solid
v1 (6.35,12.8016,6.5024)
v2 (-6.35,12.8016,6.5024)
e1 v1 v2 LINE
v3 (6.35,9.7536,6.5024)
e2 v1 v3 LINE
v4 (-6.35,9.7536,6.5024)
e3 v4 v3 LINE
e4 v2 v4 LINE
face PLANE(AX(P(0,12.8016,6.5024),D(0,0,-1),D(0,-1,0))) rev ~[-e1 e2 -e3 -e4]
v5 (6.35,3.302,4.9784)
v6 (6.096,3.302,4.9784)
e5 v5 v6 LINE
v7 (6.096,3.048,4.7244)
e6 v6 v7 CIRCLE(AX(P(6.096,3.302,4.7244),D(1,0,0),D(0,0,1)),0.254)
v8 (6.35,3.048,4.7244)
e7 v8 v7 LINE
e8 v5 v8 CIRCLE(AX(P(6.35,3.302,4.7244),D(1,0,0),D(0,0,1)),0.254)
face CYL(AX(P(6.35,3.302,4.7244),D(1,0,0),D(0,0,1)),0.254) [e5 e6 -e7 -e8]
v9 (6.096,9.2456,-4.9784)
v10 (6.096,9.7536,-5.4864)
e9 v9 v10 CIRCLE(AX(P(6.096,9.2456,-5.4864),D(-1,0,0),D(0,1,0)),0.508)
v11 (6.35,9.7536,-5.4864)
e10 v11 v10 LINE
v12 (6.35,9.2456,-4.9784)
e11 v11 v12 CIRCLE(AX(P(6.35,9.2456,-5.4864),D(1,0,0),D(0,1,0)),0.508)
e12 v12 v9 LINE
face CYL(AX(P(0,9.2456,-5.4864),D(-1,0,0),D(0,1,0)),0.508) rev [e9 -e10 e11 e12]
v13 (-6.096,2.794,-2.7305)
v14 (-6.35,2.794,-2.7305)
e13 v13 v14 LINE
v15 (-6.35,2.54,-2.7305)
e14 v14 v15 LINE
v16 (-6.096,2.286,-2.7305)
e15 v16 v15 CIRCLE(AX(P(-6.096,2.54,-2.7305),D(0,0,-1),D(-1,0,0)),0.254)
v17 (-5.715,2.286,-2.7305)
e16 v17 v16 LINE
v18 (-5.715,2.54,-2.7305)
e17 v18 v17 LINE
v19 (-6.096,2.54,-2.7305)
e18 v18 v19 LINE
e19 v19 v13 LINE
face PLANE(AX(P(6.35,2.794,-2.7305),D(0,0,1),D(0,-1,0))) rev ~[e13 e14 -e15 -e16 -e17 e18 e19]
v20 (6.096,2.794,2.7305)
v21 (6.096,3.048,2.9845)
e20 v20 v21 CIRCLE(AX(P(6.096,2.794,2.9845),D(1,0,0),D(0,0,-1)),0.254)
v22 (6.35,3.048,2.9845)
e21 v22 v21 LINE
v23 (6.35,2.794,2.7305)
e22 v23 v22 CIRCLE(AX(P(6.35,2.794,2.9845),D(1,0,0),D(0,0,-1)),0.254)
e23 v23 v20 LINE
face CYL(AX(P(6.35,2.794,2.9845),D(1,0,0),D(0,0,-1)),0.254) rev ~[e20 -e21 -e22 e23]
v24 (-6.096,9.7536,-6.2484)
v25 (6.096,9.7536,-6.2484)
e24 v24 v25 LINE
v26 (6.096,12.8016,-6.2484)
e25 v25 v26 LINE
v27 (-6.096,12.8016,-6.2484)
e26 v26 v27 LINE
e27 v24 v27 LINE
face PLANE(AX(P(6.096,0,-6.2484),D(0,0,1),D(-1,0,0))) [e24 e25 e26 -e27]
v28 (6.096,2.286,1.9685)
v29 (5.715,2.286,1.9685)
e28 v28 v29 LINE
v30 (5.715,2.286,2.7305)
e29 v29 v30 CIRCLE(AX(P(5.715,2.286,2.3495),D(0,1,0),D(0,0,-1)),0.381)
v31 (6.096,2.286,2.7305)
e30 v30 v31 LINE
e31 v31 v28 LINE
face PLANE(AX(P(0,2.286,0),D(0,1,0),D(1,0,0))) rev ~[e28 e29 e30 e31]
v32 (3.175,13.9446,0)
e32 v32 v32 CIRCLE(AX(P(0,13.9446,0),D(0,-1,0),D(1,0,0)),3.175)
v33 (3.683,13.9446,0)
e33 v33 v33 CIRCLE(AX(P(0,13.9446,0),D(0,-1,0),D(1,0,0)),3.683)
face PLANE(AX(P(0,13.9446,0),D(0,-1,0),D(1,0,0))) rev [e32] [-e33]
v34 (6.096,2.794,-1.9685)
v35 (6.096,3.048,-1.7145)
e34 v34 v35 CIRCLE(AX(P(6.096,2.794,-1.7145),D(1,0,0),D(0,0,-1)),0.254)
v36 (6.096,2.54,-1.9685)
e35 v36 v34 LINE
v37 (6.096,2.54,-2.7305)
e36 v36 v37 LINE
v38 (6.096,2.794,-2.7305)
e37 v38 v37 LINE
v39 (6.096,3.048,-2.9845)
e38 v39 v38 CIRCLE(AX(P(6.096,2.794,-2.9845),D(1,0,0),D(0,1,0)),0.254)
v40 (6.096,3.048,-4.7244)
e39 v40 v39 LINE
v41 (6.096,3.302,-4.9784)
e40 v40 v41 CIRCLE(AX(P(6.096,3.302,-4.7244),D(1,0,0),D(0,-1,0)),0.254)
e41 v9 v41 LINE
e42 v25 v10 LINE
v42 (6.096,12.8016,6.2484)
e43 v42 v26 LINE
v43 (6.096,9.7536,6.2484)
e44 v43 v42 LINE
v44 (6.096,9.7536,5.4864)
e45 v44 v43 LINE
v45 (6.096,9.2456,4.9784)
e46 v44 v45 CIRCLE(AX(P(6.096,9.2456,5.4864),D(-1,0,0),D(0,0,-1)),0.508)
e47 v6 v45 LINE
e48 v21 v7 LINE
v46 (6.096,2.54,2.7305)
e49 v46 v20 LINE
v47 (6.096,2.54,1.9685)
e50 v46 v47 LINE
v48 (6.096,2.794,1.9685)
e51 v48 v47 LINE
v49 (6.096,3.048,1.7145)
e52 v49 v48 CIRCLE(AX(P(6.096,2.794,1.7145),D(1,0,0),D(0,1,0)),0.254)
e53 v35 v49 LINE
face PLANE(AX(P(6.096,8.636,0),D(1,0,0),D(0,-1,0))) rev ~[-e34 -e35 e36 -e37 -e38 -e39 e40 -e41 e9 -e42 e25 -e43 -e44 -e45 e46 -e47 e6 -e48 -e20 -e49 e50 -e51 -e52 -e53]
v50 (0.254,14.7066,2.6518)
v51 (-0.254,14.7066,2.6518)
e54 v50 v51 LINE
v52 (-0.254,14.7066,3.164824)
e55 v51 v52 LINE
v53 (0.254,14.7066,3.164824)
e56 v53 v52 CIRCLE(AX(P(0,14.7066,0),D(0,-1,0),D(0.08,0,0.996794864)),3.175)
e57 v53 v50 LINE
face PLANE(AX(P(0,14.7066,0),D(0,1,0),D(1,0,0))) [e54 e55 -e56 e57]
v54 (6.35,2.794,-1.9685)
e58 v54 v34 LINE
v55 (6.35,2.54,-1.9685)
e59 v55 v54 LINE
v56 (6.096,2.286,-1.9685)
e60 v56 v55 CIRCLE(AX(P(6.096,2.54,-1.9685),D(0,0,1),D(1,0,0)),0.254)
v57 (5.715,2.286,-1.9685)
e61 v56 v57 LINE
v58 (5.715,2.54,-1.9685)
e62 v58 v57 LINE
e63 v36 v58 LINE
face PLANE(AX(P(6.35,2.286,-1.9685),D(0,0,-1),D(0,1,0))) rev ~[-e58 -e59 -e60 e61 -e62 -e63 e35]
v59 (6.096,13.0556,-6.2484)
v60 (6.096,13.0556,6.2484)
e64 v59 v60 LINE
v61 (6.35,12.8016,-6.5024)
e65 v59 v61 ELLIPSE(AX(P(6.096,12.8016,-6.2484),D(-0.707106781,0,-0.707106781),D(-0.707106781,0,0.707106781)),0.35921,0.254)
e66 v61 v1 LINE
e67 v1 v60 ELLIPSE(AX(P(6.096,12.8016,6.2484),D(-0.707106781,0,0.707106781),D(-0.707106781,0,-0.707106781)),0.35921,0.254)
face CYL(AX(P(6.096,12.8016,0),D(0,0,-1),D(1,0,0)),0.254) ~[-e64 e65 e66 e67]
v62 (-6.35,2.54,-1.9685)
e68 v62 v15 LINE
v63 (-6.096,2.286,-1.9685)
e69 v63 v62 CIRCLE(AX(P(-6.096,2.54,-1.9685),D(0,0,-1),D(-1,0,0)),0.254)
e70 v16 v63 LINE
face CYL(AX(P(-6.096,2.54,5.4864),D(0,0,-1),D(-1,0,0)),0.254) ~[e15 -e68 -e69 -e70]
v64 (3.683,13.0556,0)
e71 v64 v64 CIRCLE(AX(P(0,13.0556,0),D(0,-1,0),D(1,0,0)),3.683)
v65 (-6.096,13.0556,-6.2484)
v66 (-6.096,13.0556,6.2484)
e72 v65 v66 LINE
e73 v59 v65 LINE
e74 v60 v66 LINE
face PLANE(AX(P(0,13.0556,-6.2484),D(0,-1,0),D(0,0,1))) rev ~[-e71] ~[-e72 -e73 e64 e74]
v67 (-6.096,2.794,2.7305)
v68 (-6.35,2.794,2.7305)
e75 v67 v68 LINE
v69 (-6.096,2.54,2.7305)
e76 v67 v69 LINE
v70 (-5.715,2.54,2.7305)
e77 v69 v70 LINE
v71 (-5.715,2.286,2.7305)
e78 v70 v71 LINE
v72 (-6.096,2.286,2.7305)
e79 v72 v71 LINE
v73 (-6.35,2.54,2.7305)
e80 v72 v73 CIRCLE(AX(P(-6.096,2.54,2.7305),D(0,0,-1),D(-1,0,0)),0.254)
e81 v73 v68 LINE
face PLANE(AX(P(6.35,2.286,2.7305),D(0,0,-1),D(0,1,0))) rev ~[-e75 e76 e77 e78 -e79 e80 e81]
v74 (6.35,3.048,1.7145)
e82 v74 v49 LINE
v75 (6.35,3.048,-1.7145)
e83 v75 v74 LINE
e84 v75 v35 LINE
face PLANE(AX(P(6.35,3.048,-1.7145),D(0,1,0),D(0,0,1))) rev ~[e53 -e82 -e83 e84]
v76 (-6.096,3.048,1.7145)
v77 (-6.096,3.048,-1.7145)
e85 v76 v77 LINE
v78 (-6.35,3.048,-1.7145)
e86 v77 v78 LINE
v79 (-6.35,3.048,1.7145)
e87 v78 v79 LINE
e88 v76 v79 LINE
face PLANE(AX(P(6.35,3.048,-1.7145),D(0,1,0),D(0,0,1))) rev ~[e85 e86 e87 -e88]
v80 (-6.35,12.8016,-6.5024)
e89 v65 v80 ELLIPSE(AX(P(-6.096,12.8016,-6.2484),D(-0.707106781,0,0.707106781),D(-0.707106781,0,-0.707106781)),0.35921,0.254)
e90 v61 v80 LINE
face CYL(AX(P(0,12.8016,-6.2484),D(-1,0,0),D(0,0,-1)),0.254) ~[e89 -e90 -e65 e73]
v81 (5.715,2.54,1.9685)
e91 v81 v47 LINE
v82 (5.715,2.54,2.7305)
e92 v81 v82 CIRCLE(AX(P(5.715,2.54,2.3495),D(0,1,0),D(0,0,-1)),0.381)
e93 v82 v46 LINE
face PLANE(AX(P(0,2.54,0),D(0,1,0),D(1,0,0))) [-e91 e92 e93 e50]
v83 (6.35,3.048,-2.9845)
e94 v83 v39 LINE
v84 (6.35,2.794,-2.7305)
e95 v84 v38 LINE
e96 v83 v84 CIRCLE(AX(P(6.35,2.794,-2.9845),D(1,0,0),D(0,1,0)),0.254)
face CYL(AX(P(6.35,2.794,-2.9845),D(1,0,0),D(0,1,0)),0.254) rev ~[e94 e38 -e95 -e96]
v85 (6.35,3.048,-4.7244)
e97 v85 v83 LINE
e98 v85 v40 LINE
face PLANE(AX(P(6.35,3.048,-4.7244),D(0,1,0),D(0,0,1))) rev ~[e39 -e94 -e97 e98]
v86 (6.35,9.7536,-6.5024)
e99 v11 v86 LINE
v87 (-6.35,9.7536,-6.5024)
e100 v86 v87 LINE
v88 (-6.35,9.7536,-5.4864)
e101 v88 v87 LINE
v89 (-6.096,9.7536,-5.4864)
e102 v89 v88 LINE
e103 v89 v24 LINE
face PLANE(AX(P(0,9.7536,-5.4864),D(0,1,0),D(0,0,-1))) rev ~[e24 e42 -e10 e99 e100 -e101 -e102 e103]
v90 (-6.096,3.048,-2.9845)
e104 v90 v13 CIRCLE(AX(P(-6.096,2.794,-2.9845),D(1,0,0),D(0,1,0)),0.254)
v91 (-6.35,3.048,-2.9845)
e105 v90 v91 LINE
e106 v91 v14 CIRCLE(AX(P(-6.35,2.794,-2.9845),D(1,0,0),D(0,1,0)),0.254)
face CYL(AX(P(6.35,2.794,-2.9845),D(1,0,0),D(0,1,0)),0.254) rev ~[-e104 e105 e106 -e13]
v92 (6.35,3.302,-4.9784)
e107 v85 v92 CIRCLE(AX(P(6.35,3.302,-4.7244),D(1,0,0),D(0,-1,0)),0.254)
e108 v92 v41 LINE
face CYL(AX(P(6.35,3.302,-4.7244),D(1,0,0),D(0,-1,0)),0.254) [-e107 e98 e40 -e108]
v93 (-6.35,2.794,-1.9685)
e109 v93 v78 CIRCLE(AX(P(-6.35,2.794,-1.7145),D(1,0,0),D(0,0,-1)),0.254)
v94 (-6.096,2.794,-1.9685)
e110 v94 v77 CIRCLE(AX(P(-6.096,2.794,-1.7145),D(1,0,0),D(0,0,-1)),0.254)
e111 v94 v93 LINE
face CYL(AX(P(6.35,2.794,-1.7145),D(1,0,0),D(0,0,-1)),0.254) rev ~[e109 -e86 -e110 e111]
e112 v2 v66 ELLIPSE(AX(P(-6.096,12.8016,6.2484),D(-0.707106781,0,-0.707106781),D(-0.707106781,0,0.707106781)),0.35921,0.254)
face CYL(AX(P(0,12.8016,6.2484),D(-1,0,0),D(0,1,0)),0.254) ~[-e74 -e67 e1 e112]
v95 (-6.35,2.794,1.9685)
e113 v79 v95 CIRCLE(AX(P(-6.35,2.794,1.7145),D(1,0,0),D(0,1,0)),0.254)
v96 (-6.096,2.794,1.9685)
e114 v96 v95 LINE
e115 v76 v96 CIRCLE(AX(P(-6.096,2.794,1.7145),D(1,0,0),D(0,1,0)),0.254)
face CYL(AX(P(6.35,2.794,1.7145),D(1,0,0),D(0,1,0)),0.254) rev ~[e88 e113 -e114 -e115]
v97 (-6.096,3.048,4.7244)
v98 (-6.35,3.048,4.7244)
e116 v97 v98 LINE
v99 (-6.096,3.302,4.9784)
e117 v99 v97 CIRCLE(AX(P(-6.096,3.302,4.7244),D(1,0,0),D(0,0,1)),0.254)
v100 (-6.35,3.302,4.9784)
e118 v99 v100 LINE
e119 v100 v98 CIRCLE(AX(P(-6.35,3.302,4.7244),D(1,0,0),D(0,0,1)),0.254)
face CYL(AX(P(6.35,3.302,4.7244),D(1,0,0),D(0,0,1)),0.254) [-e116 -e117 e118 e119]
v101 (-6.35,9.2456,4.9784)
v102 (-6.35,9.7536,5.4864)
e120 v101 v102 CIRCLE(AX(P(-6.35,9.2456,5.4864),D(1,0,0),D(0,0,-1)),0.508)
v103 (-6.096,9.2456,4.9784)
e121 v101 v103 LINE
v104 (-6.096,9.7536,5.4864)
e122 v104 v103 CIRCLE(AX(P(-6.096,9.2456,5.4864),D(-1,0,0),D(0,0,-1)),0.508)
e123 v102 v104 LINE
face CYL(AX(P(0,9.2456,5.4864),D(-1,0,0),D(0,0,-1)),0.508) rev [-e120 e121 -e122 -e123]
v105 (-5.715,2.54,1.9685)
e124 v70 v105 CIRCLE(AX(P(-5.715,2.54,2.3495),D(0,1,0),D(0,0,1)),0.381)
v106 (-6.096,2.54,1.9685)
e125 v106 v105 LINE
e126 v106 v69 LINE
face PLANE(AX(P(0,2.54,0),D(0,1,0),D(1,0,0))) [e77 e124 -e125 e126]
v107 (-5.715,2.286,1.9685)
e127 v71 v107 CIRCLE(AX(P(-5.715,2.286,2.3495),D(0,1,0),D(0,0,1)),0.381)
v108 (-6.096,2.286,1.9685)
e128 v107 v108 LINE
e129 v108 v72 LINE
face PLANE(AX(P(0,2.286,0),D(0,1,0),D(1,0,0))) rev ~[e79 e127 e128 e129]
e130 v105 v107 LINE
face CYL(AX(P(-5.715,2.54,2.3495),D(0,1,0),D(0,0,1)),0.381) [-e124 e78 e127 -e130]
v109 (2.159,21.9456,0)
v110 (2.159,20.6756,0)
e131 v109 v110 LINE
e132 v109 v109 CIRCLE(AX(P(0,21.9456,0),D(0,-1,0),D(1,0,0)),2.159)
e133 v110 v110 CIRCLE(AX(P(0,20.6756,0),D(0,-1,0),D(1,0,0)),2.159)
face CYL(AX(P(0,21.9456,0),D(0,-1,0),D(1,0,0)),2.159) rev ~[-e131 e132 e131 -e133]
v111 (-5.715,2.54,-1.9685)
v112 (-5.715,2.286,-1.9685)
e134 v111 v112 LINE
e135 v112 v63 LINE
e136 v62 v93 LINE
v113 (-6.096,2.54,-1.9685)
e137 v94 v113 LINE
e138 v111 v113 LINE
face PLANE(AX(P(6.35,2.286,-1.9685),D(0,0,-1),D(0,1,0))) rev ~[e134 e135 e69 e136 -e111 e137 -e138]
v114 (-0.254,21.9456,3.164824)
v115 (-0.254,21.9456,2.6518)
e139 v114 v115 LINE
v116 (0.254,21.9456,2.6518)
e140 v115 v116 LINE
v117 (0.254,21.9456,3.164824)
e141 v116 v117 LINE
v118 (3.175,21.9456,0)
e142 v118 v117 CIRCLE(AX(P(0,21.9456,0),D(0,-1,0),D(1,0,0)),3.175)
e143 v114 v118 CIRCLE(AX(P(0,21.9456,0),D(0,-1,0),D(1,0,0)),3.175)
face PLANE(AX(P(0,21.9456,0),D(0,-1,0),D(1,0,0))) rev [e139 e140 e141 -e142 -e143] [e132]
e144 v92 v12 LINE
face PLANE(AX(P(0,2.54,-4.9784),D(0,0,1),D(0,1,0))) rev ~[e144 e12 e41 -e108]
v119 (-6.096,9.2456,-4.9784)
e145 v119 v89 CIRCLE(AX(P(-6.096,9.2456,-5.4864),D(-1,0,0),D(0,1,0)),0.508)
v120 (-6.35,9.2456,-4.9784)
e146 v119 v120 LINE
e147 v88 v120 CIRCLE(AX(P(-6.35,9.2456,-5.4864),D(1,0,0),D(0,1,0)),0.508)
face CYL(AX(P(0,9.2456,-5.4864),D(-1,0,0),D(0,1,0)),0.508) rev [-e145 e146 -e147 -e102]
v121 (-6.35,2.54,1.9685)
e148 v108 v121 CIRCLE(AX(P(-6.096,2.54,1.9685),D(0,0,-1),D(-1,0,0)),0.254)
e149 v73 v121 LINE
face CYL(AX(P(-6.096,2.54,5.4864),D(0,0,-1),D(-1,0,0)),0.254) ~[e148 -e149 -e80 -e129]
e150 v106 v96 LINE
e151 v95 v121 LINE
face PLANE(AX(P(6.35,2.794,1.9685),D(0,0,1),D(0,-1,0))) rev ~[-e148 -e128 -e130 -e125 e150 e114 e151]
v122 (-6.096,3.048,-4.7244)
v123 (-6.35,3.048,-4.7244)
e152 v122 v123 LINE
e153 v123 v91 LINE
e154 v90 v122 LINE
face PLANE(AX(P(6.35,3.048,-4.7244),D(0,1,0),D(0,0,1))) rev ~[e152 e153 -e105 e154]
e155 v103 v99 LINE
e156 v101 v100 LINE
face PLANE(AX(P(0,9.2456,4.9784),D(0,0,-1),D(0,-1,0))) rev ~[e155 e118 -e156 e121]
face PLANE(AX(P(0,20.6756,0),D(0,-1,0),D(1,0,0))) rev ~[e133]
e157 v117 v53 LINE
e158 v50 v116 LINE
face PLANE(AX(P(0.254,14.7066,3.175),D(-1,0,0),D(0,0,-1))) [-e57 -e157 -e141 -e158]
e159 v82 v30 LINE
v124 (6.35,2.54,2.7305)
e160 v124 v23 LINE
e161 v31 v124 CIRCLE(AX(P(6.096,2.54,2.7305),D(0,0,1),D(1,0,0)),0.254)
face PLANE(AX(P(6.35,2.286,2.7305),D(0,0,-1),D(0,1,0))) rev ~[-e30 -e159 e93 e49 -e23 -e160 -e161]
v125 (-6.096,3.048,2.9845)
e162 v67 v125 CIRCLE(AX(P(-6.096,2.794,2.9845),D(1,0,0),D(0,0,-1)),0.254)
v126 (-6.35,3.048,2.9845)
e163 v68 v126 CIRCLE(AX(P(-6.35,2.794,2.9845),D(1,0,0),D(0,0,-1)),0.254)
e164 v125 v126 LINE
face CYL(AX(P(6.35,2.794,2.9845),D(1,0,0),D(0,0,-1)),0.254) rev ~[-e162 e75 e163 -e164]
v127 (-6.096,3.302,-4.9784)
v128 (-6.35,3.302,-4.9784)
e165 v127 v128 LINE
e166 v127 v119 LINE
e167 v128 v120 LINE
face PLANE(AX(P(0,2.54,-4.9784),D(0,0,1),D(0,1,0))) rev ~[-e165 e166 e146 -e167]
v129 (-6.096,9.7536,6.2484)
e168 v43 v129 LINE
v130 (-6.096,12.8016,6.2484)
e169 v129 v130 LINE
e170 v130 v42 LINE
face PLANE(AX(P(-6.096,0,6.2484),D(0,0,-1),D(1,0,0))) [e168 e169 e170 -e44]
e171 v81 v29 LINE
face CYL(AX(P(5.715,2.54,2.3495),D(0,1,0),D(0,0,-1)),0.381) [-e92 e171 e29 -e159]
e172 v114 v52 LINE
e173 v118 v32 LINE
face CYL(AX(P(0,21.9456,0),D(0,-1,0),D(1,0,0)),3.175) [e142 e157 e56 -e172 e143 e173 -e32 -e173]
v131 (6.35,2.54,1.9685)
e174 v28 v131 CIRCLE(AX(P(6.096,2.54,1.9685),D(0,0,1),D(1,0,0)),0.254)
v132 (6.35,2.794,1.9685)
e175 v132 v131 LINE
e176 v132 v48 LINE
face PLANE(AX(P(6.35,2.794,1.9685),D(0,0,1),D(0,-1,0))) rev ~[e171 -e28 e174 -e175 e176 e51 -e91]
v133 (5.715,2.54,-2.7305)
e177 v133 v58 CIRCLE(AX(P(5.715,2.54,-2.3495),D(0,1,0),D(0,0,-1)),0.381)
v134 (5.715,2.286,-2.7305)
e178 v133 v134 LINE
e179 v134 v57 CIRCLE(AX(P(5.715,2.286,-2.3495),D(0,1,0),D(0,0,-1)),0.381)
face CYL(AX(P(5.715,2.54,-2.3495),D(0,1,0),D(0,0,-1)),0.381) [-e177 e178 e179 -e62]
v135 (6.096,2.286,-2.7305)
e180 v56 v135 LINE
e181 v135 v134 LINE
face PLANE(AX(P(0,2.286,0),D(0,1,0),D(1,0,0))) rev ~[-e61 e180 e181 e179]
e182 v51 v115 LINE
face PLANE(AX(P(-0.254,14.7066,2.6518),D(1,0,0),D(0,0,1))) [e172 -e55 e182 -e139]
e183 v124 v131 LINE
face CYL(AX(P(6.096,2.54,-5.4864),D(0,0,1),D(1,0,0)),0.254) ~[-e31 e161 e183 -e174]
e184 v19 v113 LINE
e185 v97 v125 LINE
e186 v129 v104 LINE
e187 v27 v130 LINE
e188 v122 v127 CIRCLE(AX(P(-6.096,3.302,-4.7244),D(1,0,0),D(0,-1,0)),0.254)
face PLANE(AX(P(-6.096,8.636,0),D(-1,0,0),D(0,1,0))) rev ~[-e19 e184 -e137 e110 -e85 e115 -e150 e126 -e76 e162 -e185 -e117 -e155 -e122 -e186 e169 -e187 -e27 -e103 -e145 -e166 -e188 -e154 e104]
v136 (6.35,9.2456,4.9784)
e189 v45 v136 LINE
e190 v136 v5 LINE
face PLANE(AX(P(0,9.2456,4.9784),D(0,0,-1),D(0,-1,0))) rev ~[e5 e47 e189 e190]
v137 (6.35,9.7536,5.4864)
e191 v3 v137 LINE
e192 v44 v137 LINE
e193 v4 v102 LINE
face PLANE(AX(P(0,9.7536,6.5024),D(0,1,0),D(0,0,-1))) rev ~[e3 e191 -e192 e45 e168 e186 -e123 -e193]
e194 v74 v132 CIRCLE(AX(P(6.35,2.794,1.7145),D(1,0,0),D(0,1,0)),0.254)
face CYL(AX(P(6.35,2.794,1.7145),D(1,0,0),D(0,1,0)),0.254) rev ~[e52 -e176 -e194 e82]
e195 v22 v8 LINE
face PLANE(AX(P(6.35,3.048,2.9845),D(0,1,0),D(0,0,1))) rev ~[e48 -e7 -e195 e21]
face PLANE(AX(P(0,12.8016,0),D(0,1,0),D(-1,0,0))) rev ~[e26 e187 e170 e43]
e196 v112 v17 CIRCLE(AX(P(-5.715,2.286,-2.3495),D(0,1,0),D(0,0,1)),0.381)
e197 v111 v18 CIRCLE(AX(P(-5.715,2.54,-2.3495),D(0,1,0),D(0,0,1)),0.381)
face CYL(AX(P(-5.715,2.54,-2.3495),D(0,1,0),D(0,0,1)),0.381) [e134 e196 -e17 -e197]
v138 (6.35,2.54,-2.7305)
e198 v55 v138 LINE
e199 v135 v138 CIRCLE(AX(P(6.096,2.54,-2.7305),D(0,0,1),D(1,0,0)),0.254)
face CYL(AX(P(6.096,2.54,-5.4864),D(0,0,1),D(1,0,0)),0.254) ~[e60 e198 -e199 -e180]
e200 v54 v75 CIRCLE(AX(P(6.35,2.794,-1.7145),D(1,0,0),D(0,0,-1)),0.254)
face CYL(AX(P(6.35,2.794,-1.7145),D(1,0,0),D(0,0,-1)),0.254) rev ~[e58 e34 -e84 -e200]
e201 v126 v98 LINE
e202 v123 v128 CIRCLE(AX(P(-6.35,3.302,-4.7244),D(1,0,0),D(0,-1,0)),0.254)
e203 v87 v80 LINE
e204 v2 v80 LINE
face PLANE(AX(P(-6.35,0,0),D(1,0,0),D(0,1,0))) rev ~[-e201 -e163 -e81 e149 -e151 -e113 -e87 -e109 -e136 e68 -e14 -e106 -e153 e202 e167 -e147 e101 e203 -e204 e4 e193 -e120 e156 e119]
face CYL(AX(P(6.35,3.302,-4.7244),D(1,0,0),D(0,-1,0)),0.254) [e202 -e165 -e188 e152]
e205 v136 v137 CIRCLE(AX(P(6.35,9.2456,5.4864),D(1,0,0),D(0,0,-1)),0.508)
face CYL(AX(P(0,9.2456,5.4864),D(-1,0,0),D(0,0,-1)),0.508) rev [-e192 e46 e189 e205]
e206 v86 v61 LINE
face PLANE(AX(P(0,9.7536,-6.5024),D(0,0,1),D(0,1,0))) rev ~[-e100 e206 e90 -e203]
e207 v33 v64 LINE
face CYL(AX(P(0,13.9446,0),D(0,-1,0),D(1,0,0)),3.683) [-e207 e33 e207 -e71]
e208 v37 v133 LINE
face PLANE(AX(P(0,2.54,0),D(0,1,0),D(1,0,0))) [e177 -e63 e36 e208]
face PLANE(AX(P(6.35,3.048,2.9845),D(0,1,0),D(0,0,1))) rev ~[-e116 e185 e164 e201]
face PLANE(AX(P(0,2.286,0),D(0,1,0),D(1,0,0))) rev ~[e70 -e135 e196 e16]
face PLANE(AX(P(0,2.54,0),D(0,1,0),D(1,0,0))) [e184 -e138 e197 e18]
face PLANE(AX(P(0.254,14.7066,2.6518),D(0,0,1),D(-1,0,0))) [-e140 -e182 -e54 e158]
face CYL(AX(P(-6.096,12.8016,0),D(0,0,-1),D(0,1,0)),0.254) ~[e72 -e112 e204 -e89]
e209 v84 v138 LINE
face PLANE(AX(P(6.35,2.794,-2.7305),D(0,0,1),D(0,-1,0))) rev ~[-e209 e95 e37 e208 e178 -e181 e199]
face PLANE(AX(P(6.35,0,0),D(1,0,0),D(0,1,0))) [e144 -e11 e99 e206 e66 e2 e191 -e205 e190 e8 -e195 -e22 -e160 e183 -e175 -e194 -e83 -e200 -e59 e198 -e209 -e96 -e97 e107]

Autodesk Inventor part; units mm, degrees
sketch "Sketch_1" plane through (0, 0, 0) normal (1, 0, 0) x (0, 1, 0)
  line L0 (9.7536, 6.5024) -> (9.7536, 5.4864)
  arc A0 (9.2456, 4.9784) -> (9.7536, 5.4864) centre (9.2456, 5.4864) ccw
  line L1 (9.2456, 4.9784) -> (2.54, 4.9784)
  line L2 (2.54, 4.9784) -> (2.54, -4.9784)
  line L3 (2.54, -4.9784) -> (9.2456, -4.9784)
  arc A1 (9.7536, -5.4864) -> (9.2456, -4.9784) centre (9.2456, -5.4864) ccw
  line L4 (9.7536, -5.4864) -> (9.7536, -6.5024)
  line L5 (9.7536, -6.5024) -> (12.8016, -6.5024)
  arc A2 (12.8016, -6.5024) -> (13.0556, -6.2484) centre (12.8016, -6.2484) ccw
  line L6 (13.0556, -6.2484) -> (13.0556, 6.2484)
  arc A3 (13.0556, 6.2484) -> (12.8016, 6.5024) centre (12.8016, 6.2484) ccw
  line L7 (12.8016, 6.5024) -> (9.7536, 6.5024)
extrude "Extrusion1" add sketch "Sketch_1" along normal mid plane 12.7
sketch "Sketch_2" plane through (0, 0, 0) normal (0, 1, 0) x (-1, 0, 0)
  line L0 (6.096, 6.2484) -> (-6.096, 6.2484)
  line L1 (-6.096, 6.2484) -> (-6.096, -6.2484)
  line L2 (-6.096, -6.2484) -> (6.096, -6.2484)
  line L3 (6.096, -6.2484) -> (6.096, 6.2484)
extrude "Extrusion2" cut sketch "Sketch_2" along normal blind 12.8016
sketch "Sketch_3" plane through (0, 0, 0) normal (0, 0, 1) x (1, 0, 0)
  arc A0 (-6.096, 13.0556) -> (-6.35, 12.8016) centre (-6.096, 12.8016) ccw
  line L0 (-6.096, 13.0556) -> (6.096, 13.0556)
  arc A1 (6.35, 12.8016) -> (6.096, 13.0556) centre (6.096, 12.8016) ccw
  line L1 (6.35, 12.8016) -> (6.35, 15.24)
  line L2 (6.35, 15.24) -> (-6.35, 15.24)
  line L3 (-6.35, 15.24) -> (-6.35, 12.8016)
extrude "Extrusion3" cut sketch "Sketch_3" along normal mid plane 25.6032
sketch "Sketch_4" plane through (0, 2.54, 0) normal (0, 1, 0) x (1, 0, 0)
  line L0 (-6.096, 5.4864) -> (-6.096, -5.4864)
  line L1 (-6.096, -5.4864) -> (-6.35, -5.4864)
  line L2 (-6.35, -5.4864) -> (-6.35, 5.4864)
  line L3 (-6.35, 5.4864) -> (-6.096, 5.4864)
  line L4 (-6.096, 5.4864) -> (-6.096, -5.4864)
revolve "Revolution1" add sketch "Sketch_4" angle 90 about axis through (-6.096, 2.54, -5.4864) along (0, 0, 1)
sketch "Sketch_5" plane through (0, 2.54, 0) normal (0, 1, 0) x (1, 0, 0)
  line L0 (6.096, -5.4864) -> (6.096, 5.4864)
  line L1 (6.096, 5.4864) -> (6.35, 5.4864)
  line L2 (6.35, 5.4864) -> (6.35, -5.4864)
  line L3 (6.35, -5.4864) -> (6.096, -5.4864)
  line L4 (6.096, -5.4864) -> (6.096, 5.4864)
revolve "Revolution2" add sketch "Sketch_5" angle 90 about axis through (6.096, 2.54, 5.4864) along (0, 0, -1)
sketch "Sketch_6" plane through (0, 2.54, 0) normal (0, 1, 0) x (1, 0, 0)
  line L0 (-6.096, -2.7305) -> (-5.715, -2.7305)
  arc A0 (-5.715, -2.7305) -> (-5.715, -1.9685) centre (-5.715, -2.3495) ccw
  line L1 (-5.715, -1.9685) -> (-5.715, 1.9685)
  arc A1 (-5.715, 1.9685) -> (-5.715, 2.7305) centre (-5.715, 2.3495) ccw
  line L2 (-5.715, 2.7305) -> (-6.096, 2.7305)
  line L3 (-6.096, 2.7305) -> (-6.096, -2.7305)
extrude "Extrusion4" add sketch "Sketch_6" against normal blind 0.254
sketch "Sketch_7" plane through (0, 2.54, 0) normal (0, 1, 0) x (1, 0, 0)
  arc A0 (5.715, -1.9685) -> (5.715, -2.7305) centre (5.715, -2.3495) ccw
  line L0 (5.715, -2.7305) -> (6.096, -2.7305)
  line L1 (6.096, -2.7305) -> (6.096, 2.7305)
  line L2 (6.096, 2.7305) -> (5.715, 2.7305)
  arc A1 (5.715, 2.7305) -> (5.715, 1.9685) centre (5.715, 2.3495) ccw
  line L3 (5.715, 1.9685) -> (5.715, -1.9685)
extrude "Extrusion5" add sketch "Sketch_7" against normal blind 0.254
sketch "Sketch_8" plane through (6.35, 0, 0) normal (1, 0, 0) x (0, 0, -1)
  line L0 (-7.1863, 3.302) -> (-7.1863, 0)
  line L1 (-7.1863, 0) -> (7.752, 0)
  line L2 (7.752, 0) -> (7.752, 3.302)
  line L3 (7.752, 3.302) -> (4.9784, 3.302)
  arc A0 (4.7244, 3.048) -> (4.9784, 3.302) centre (4.7244, 3.302) ccw
  line L4 (4.7244, 3.048) -> (2.9845, 3.048)
  arc A1 (2.9845, 3.048) -> (2.7305, 2.794) centre (2.9845, 2.794) ccw
  line L5 (2.7305, 2.794) -> (2.7305, 2.286)
  line L6 (2.7305, 2.286) -> (1.9685, 2.286)
  line L7 (1.9685, 2.286) -> (1.9685, 2.794)
  arc A2 (1.9685, 2.794) -> (1.7145, 3.048) centre (1.7145, 2.794) ccw
  line L8 (1.7145, 3.048) -> (-1.7145, 3.048)
  arc A3 (-1.7145, 3.048) -> (-1.9685, 2.794) centre (-1.7145, 2.794) ccw
  line L9 (-1.9685, 2.794) -> (-1.9685, 2.286)
  line L10 (-1.9685, 2.286) -> (-2.7305, 2.286)
  line L11 (-2.7305, 2.286) -> (-2.7305, 2.794)
  arc A4 (-2.7305, 2.794) -> (-2.9845, 3.048) centre (-2.9845, 2.794) ccw
  line L12 (-2.9845, 3.048) -> (-4.7244, 3.048)
  arc A5 (-4.9784, 3.302) -> (-4.7244, 3.048) centre (-4.7244, 3.302) ccw
  line L13 (-4.9784, 3.302) -> (-7.1863, 3.302)
extrude "Extrusion6" cut sketch "Sketch_8" against normal blind 25.4
sketch "Sketch_17" plane through (0, 0, 0) normal (0, 0, 1) x (1, 0, 0)
  line L0 (0, 13.0556) -> (0, 21.9456)
  line L1 (0, 21.9456) -> (3.175, 21.9456)
  line L2 (3.175, 21.9456) -> (3.175, 13.9446)
  line L3 (3.175, 13.9446) -> (3.683, 13.9446)
  line L4 (3.683, 13.9446) -> (3.683, 13.0556)
  line L5 (3.683, 13.0556) -> (0, 13.0556)
  line L6 (0, 13.0556) -> (0, 21.9456)
revolve "Revolution3" add sketch "Sketch_17" angle 360 about axis through (0, 13.0556, 0) along (0, -1, 0)
thread "Thread1" size "1/4-48 UNS" class "2A" standard "ANSI Unified Screw Threads" full length
sketch "Sketch_19" plane through (0, 0, 0) normal (0, 0, 1) x (1, 0, 0)
  line L0 (0, 20.6756) -> (0, 21.9456)
  line L1 (0, 21.9456) -> (2.159, 21.9456)
  line L2 (2.159, 21.9456) -> (2.159, 20.6756)
  line L3 (2.159, 20.6756) -> (0, 20.6756)
  line L4 (0, 20.6756) -> (0, 21.9456)
revolve "Revolution4" cut sketch "Sketch_19" angle 360 about axis through (0, 20.6756, 0) along (0, -1, 0)
sketch "Sketch_35" plane through (0, 14.7066, 0) normal (0, 1, 0) x (1, 0, 0)
  line L0 (-0.254, -2.6518) -> (-0.254, -3.175)
  line L1 (-0.254, -3.175) -> (0.254, -3.175)
  line L2 (0.254, -3.175) -> (0.254, -2.6518)
  line L3 (0.254, -2.6518) -> (-0.254, -2.6518)
extrude "Extrusion7" cut sketch "Sketch_35" along normal blind 20.32
ref_plane "at507h_XY" through (0, 16.3576, 0) normal (0, 1, 0) x (1, 0, 0)
ref_plane "at507h_YZ" through (0, 16.3576, 0) normal (1, 0, 0) x (0, 0, -1)
ref_plane "at507h_ZX" through (0, 16.3576, 0) normal (0, 0, -1) x (0, 1, 0)
ref_plane "at507h_dual_XY" through (-2.4003, 16.3576, 0) normal (0, 1, 0) x (1, 0, 0)
ref_plane "at507h_dual_YZ" through (-2.4003, 16.3576, 0) normal (1, 0, 0) x (0, 0, -1)
ref_plane "at507h_dual_ZX" through (-2.4003, 16.3576, 0) normal (0, 0, -1) x (0, 1, 0)
ref_plane "at509_XY" through (0, 15.7099, 0) normal (0, 1, 0) x (1, 0, 0)
ref_plane "at509_YZ" through (0, 15.7099, 0) normal (1, 0, 0) x (0, 0, -1)
ref_plane "at509_ZX" through (0, 15.7099, 0) normal (0, 0, -1) x (0, 1, 0)
ref_plane "at509_dual_XY" through (-2.4003, 15.7099, 0) normal (0, 1, 0) x (1, 0, 0)
ref_plane "at509_dual_YZ" through (-2.4003, 15.7099, 0) normal (1, 0, 0) x (0, 0, -1)
ref_plane "at509_dual_ZX" through (-2.4003, 15.7099, 0) normal (0, 0, -1) x (0, 1, 0)
ref_plane "at513h_XY" through (0, 14.7066, 0) normal (0, 1, 0) x (1, 0, 0)
ref_plane "at513h_YZ" through (0, 14.7066, 0) normal (1, 0, 0) x (0, 0, -1)
ref_plane "at513h_ZX" through (0, 14.7066, 0) normal (0, 0, -1) x (0, 1, 0)
ref_plane "at513h_dual_XY" through (-2.4003, 14.7066, 0) normal (0, 1, 0) x (1, 0, 0)
ref_plane "at513h_dual_YZ" through (-2.4003, 14.7066, 0) normal (1, 0, 0) x (0, 0, -1)
ref_plane "at513h_dual_ZX" through (-2.4003, 14.7066, 0) normal (0, 0, -1) x (0, 1, 0)
ref_plane "body_c_to_bracket_XY" through (0, 13.0556, 0) normal (0, -1, 0) x (1, 0, 0)
ref_plane "body_c_to_bracket_YZ" through (0, 13.0556, 0) normal (1, 0, 0) x (0, 0, 1)
ref_plane "body_c_to_bracket_ZX" through (0, 13.0556, 0) normal (0, 0, 1) x (0, -1, 0)
ref_plane "body_cover_to_body_XY" through (0, 12.8016, 0) normal (0, 1, 0) x (1, 0, 0)
ref_plane "body_cover_to_body_YZ" through (0, 12.8016, 0) normal (1, 0, 0) x (0, 0, -1)
ref_plane "body_cover_to_body_ZX" through (0, 12.8016, 0) normal (0, 0, -1) x (0, 1, 0)
ref_plane "body_cover_to_toggle_XY" through (0, 18.1356, 0) normal (0, 1, 0) x (1, 0, 0)
ref_plane "body_cover_to_toggle_YZ" through (0, 18.1356, 0) normal (1, 0, 0) x (0, 0, -1)
ref_plane "body_cover_to_toggle_ZX" through (0, 18.1356, 0) normal (0, 0, -1) x (0, 1, 0)
ref_plane "body_cover_to_toggle2_XY" through (-2.4003, 18.1356, 0) normal (0, 1, 0) x (1, 0, 0)
ref_plane "body_cover_to_toggle2_YZ" through (-2.4003, 18.1356, 0) normal (1, 0, 0) x (0, 0, -1)
ref_plane "body_cover_to_toggle2_ZX" through (-2.4003, 18.1356, 0) normal (0, 0, -1) x (0, 1, 0)
ref_plane "st513h_2_XY" through (0, 17.5006, 0) normal (0, 1, 0) x (1, 0, 0)
ref_plane "st513h_2_YZ" through (0, 17.5006, 0) normal (1, 0, 0) x (0, 0, -1)
ref_plane "st513h_2_ZX" through (0, 17.5006, 0) normal (0, 0, -1) x (0, 1, 0)
ref_plane "st513h_2_dual_XY" through (-2.4003, 17.5006, 0) normal (0, 1, 0) x (1, 0, 0)
ref_plane "st513h_2_dual_YZ" through (-2.4003, 17.5006, 0) normal (1, 0, 0) x (0, 0, -1)
ref_plane "st513h_2_dual_ZX" through (-2.4003, 17.5006, 0) normal (0, 0, -1) x (0, 1, 0)
properties part number "M211LW01-body-cover"
